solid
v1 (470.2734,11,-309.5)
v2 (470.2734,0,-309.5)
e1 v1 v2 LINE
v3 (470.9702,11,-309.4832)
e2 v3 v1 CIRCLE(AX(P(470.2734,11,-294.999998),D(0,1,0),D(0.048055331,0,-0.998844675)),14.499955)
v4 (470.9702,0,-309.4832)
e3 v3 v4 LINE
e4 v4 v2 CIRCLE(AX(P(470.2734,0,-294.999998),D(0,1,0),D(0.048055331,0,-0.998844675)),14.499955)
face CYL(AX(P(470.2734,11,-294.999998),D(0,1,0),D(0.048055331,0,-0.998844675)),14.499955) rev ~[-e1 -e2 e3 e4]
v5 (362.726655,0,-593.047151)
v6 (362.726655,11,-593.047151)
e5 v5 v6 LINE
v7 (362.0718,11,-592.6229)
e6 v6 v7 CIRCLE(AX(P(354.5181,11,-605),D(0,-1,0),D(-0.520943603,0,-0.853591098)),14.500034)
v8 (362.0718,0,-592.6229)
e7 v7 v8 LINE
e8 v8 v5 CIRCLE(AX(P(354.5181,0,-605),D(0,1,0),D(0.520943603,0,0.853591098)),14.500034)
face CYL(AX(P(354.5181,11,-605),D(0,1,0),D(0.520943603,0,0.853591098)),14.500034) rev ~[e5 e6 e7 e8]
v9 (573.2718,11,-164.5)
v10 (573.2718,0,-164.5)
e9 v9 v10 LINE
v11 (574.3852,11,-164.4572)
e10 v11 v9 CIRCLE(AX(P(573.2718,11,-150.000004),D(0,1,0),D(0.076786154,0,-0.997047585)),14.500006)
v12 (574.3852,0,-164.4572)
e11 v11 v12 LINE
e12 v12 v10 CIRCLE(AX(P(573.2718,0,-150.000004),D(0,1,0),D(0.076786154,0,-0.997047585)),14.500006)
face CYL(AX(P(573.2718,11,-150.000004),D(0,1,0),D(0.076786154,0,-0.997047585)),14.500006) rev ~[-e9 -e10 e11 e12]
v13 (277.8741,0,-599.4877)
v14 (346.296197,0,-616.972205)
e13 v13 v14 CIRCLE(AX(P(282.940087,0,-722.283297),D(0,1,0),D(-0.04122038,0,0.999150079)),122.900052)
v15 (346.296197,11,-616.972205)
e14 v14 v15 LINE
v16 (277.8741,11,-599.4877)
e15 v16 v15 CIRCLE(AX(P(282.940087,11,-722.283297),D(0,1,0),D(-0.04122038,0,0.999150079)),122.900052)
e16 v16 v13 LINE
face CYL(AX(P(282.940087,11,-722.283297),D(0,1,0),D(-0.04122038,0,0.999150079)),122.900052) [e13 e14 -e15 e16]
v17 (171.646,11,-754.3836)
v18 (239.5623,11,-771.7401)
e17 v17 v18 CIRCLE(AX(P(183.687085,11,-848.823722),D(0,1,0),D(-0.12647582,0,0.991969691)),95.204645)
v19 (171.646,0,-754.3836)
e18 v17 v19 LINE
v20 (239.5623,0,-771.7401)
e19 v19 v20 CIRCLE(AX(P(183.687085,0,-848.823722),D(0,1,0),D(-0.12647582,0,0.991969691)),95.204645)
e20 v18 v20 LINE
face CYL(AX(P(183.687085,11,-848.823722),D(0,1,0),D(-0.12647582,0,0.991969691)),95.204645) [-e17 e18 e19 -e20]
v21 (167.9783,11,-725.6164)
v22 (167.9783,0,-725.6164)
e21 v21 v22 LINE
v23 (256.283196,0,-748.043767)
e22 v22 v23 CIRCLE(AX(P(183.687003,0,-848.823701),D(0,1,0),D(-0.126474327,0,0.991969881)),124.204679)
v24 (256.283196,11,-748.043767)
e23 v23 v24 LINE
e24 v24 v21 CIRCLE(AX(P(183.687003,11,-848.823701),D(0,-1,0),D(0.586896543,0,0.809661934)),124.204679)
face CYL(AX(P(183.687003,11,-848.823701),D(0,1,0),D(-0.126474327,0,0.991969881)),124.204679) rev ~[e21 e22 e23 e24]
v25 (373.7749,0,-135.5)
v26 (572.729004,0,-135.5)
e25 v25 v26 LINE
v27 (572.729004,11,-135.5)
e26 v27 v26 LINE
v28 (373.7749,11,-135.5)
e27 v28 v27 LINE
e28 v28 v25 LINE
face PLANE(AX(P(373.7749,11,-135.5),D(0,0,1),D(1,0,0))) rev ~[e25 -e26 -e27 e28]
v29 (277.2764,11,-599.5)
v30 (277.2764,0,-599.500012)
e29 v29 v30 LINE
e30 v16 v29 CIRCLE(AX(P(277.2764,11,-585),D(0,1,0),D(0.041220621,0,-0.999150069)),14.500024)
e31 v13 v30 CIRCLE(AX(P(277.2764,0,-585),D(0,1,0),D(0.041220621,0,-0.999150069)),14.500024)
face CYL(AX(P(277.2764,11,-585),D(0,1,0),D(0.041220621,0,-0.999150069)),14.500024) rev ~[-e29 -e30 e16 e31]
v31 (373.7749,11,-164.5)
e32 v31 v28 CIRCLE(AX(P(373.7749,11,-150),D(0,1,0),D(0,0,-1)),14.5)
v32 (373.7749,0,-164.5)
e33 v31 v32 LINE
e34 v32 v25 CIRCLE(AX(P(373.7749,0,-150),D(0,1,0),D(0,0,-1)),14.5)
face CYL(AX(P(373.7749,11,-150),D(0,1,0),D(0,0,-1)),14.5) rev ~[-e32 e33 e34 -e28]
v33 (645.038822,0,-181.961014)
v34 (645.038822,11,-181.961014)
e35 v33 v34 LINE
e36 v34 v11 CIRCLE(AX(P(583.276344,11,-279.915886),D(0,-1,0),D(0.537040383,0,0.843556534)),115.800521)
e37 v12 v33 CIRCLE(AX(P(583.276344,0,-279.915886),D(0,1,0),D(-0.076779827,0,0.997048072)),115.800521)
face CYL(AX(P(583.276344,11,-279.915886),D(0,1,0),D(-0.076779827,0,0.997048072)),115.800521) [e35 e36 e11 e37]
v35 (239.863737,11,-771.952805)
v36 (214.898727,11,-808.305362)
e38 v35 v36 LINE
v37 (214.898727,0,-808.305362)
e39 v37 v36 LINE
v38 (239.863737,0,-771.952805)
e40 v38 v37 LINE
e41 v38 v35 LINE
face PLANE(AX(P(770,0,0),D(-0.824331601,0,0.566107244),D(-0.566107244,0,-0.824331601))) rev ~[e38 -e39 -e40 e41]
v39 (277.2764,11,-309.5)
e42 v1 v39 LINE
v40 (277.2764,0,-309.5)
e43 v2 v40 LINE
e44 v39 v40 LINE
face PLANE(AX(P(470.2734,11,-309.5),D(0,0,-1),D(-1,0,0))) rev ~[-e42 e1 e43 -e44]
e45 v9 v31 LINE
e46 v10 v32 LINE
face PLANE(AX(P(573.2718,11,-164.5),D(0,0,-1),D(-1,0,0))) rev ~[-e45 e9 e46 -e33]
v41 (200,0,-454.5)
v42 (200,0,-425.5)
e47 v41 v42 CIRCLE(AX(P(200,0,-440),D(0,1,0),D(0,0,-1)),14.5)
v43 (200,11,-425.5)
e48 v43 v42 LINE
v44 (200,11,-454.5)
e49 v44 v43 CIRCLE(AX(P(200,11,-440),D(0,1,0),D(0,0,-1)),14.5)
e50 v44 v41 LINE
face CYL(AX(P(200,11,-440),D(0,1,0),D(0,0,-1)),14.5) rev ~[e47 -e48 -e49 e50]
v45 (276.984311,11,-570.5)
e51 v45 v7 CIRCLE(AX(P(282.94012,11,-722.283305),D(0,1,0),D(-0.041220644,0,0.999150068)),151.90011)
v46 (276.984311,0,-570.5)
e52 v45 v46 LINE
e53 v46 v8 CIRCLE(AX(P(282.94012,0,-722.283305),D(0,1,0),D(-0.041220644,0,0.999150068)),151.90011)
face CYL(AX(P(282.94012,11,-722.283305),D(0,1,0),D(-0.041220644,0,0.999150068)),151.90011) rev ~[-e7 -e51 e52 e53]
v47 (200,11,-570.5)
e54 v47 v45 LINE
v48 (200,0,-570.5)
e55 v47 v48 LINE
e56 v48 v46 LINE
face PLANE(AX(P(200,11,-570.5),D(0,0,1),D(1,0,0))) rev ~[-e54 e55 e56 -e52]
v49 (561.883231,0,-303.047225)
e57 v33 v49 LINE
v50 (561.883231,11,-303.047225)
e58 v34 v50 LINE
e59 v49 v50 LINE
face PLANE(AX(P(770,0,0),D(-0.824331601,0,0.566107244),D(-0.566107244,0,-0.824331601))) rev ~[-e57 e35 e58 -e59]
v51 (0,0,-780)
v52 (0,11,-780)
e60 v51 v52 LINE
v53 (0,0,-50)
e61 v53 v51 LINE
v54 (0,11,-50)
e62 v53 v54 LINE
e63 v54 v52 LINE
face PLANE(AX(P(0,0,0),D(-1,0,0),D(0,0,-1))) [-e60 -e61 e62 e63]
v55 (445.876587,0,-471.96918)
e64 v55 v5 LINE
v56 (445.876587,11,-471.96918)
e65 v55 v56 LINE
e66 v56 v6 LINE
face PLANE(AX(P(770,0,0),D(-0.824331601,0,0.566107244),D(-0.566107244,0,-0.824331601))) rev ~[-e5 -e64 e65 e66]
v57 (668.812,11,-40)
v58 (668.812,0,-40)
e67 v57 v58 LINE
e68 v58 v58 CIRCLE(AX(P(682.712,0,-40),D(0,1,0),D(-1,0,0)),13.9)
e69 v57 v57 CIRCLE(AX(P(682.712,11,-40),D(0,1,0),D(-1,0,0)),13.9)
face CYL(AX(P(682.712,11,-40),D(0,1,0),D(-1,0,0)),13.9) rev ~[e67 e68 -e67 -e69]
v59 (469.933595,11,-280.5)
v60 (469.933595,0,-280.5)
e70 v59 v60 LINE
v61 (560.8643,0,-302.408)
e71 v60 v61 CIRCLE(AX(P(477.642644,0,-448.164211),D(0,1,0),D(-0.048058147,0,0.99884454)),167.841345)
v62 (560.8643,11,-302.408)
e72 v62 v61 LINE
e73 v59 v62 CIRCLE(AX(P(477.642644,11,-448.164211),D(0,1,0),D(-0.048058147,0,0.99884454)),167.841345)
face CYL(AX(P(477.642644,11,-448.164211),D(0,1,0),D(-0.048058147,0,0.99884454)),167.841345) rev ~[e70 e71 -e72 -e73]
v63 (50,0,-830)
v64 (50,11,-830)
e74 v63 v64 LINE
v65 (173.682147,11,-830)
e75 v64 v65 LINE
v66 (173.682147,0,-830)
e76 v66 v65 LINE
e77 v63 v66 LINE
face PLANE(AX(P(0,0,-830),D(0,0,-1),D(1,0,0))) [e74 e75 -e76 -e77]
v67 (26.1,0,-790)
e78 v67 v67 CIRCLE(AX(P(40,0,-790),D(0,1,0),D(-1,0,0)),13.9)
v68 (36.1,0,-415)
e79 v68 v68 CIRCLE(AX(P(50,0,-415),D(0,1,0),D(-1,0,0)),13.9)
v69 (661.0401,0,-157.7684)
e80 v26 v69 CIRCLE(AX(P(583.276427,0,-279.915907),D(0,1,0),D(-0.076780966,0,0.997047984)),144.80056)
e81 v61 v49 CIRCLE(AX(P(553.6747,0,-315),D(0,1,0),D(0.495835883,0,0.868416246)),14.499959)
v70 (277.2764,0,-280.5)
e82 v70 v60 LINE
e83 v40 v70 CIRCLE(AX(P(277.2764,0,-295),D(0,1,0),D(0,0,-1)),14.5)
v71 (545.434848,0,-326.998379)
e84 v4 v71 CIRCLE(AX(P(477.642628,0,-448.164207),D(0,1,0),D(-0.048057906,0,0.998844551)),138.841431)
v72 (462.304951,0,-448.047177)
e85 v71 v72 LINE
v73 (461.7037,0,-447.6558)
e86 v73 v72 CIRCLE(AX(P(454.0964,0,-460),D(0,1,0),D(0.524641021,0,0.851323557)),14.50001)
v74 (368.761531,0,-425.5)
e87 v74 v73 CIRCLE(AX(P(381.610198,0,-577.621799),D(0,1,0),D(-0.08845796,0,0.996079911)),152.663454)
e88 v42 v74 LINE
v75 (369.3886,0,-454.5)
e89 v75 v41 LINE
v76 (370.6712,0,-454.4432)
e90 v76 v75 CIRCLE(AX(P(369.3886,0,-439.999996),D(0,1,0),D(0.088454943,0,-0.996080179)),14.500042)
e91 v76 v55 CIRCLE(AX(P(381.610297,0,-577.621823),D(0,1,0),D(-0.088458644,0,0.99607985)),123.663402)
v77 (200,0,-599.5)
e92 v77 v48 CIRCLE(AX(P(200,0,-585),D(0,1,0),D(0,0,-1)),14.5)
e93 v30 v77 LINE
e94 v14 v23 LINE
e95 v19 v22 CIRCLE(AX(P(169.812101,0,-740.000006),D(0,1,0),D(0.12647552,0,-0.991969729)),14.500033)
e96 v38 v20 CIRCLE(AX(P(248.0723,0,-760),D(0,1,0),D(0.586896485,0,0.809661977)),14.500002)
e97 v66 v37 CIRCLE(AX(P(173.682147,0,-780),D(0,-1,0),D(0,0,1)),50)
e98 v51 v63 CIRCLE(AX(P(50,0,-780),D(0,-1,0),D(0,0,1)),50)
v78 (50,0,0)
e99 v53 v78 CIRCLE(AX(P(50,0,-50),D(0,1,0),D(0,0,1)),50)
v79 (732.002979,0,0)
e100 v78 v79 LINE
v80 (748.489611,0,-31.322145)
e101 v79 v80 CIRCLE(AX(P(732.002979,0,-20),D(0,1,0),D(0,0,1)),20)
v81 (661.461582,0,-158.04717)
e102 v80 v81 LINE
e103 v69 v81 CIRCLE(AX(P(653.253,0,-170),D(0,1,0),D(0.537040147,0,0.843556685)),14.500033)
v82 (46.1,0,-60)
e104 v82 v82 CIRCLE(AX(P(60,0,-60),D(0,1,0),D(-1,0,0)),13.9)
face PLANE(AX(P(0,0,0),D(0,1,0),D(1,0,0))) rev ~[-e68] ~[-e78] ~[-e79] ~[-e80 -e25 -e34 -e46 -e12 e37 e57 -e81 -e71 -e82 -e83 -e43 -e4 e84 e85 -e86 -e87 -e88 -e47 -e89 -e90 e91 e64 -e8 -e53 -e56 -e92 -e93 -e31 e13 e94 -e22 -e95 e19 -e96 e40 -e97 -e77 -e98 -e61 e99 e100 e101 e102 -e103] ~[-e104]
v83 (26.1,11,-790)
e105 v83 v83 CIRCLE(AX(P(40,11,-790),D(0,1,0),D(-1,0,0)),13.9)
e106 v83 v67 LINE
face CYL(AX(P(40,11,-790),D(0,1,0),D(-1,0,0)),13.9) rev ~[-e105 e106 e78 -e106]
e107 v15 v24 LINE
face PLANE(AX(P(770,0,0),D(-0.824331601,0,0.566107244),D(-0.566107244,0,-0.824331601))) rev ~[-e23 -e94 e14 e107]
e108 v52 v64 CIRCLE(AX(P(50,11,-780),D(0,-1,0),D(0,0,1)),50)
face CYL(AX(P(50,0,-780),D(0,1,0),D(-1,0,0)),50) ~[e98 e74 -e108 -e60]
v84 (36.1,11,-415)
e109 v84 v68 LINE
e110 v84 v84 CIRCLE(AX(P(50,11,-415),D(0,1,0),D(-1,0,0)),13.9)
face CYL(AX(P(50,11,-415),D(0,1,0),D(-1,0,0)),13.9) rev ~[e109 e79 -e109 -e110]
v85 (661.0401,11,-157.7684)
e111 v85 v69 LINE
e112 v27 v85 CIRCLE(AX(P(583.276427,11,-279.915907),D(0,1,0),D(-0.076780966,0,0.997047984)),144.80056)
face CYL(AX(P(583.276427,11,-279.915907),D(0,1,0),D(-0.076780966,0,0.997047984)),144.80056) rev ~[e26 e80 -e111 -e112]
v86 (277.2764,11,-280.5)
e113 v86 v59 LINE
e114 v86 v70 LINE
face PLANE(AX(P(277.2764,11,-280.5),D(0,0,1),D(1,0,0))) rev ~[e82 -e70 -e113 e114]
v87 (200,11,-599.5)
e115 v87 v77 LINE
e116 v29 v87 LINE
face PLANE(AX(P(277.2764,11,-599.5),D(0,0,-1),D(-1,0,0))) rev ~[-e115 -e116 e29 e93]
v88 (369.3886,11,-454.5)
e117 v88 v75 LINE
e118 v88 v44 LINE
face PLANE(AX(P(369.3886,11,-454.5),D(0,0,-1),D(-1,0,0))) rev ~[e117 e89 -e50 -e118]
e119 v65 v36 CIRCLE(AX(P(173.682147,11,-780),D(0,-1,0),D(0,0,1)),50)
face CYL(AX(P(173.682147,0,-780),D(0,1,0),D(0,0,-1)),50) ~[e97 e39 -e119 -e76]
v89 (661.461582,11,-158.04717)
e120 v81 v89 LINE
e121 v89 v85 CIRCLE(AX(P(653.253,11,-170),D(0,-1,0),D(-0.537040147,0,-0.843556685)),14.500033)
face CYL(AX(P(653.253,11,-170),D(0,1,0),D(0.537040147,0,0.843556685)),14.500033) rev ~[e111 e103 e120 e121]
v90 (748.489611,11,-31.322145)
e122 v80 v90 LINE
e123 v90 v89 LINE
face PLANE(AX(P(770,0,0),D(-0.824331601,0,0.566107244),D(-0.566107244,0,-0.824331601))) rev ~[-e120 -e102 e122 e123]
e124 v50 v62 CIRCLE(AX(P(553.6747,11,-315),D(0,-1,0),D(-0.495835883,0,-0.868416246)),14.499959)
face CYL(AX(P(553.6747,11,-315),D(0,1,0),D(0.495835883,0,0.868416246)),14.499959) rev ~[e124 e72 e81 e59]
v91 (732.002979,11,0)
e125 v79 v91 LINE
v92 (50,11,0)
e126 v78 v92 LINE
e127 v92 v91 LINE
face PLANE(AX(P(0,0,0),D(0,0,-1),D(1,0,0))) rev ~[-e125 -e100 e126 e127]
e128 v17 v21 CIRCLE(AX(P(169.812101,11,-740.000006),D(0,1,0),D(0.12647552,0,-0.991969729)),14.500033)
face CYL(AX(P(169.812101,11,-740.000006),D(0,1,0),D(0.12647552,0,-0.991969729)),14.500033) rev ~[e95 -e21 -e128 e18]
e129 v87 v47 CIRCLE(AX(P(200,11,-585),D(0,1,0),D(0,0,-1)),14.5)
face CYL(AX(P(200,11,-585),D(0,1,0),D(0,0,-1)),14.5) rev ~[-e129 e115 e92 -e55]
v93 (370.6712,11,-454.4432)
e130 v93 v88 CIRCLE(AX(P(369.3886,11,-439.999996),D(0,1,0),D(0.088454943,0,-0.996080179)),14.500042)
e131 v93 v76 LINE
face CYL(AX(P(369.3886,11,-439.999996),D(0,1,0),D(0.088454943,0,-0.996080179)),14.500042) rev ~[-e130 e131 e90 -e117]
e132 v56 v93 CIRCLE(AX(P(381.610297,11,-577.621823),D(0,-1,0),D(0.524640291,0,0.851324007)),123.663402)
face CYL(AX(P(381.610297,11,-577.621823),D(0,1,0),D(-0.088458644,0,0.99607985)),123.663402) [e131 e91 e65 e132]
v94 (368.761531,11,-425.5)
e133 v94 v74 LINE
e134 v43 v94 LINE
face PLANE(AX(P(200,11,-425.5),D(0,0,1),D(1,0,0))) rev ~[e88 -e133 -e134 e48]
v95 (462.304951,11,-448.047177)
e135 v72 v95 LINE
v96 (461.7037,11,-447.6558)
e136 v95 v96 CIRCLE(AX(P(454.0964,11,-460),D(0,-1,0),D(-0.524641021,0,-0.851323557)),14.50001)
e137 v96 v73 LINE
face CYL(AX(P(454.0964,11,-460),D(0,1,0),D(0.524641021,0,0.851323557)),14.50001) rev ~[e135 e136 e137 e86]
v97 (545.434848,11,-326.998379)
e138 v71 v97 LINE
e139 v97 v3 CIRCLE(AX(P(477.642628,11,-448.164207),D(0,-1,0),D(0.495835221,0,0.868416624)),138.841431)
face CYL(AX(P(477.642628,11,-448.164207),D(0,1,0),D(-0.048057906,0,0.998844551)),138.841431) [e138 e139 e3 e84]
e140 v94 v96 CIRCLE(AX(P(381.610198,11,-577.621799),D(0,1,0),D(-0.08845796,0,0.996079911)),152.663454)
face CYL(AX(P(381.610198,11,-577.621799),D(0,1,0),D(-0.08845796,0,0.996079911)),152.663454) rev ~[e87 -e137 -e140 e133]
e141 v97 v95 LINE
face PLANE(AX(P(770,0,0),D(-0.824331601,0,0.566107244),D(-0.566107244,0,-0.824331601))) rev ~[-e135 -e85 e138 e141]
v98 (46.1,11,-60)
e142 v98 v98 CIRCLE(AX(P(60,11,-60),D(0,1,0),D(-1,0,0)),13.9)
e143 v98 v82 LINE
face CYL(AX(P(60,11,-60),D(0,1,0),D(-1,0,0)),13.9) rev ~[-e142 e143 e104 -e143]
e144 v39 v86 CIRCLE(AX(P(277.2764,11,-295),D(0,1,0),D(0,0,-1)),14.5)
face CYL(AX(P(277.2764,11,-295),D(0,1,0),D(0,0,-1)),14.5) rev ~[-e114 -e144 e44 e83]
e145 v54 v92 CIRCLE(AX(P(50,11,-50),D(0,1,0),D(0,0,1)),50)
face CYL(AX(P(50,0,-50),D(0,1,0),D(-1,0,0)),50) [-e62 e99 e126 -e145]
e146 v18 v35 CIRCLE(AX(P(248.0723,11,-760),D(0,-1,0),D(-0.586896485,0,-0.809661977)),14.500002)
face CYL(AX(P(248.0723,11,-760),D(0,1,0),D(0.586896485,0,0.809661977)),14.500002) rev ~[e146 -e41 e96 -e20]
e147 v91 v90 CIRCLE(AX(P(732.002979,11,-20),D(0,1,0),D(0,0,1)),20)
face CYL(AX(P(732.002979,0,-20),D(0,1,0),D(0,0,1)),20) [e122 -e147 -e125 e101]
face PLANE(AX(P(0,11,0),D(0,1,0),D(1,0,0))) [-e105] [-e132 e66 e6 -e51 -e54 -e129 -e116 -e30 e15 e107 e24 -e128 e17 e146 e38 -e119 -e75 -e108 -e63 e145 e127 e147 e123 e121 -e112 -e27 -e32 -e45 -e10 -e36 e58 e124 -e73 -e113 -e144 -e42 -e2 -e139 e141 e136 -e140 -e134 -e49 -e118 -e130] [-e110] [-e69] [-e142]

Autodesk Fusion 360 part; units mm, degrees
sketch "Sketch1" plane through (0, 0, 0) normal (0, 1, 0) x (1, 0, 0)
  line L0 (0, 0) -> (0, 830)
  line L1 (0, 830) -> (200, 830)
  line L2 (0, 0) -> (770, 0)
  line L3 (770, 0) -> (200, 830)
  dimension "d1" = 830
  dimension "d2" = 770
extrude "Extrude1" add sketch "Sketch1" along normal blind 11
sketch "Sketch2" plane through (0, 11, 0) normal (0, 1, 0) x (-1, 0, 0)
  line L0 (0, 0) -> (-770, 0)
  line L1 (-770, 0) -> (-200, -830)
  line L2 (-200, -830) -> (0, -830)
  line L3 (0, -830) -> (0, 0)
  arc A0 (-167.9783, -725.6164) -> (-256.5823, -748.2599) centre (-183.687, -848.8237) ccw
  arc A1 (-171.646, -754.3836) -> (-167.9783, -725.6164) centre (-169.8121, -740) ccw
  arc A2 (-171.646, -754.3836) -> (-239.5623, -771.7401) centre (-183.687, -848.8237) ccw
  arc A3 (-256.5823, -748.2599) -> (-239.5623, -771.7401) centre (-248.0723, -760) ccw
  arc A4 (-169.8121, -740) -> (-248.0723, -760) centre (-183.687, -848.8237) ccw construction
  arc A5 (-277.8741, -599.4877) -> (-346.9644, -617.3771) centre (-282.9401, -722.2833) ccw
  arc A6 (-277.8741, -599.4877) -> (-276.6787, -570.5123) centre (-277.2764, -585) ccw
  arc A7 (-276.6787, -570.5123) -> (-362.0718, -592.6229) centre (-282.9401, -722.2833) ccw
  arc A8 (-362.0718, -592.6229) -> (-346.9644, -617.3771) centre (-354.5181, -605) ccw
  arc A9 (-277.2764, -585) -> (-354.5181, -605) centre (-282.9401, -722.2833) ccw construction
  arc A10 (-370.6712, -454.4432) -> (-446.4891, -472.3442) centre (-381.6102, -577.6218) ccw
  arc A11 (-370.6712, -454.4432) -> (-368.1059, -425.5568) centre (-369.3886, -440) ccw
  arc A12 (-368.1059, -425.5568) -> (-461.7037, -447.6558) centre (-381.6102, -577.6218) ccw
  arc A13 (-461.7037, -447.6558) -> (-446.4891, -472.3442) centre (-454.0964, -460) ccw
  arc A14 (-369.3886, -440) -> (-454.0964, -460) centre (-381.6102, -577.6218) ccw construction
  arc A15 (-470.9702, -309.4832) -> (-546.4851, -327.592) centre (-477.6426, -448.1642) ccw
  arc A16 (-470.9702, -309.4832) -> (-469.5765, -280.5168) centre (-470.2734, -295) ccw
  arc A17 (-469.5765, -280.5168) -> (-560.8643, -302.408) centre (-477.6426, -448.1642) ccw
  arc A18 (-560.8643, -302.408) -> (-546.4851, -327.592) centre (-553.6747, -315) ccw
  arc A19 (-470.2734, -295) -> (-553.6747, -315) centre (-477.6426, -448.1642) ccw construction
  arc A20 (-574.3852, -164.4572) -> (-645.4659, -182.2316) centre (-583.2764, -279.9159) ccw
  arc A21 (-574.3852, -164.4572) -> (-572.1585, -135.5428) centre (-573.2718, -150) ccw
  arc A22 (-572.1585, -135.5428) -> (-661.0401, -157.7684) centre (-583.2764, -279.9159) ccw
  arc A23 (-661.0401, -157.7684) -> (-645.4659, -182.2316) centre (-653.253, -170) ccw
  arc A24 (-573.2718, -150) -> (-653.253, -170) centre (-583.2764, -279.9159) ccw construction
  line L4 (-573.2718, -164.5) -> (-373.7749, -164.5)
  arc A25 (-373.7749, -164.5) -> (-373.7749, -135.5) centre (-373.7749, -150) ccw
  line L5 (-373.7749, -135.5) -> (-573.2718, -135.5)
  arc A26 (-573.2718, -135.5) -> (-573.2718, -164.5) centre (-573.2718, -150) ccw
  line L6 (-573.2718, -150) -> (-373.7749, -150) construction
  line L7 (-470.2734, -309.5) -> (-277.2764, -309.5)
  arc A27 (-277.2764, -309.5) -> (-277.2764, -280.5) centre (-277.2764, -295) ccw
  line L8 (-277.2764, -280.5) -> (-470.2734, -280.5)
  arc A28 (-470.2734, -280.5) -> (-470.2734, -309.5) centre (-470.2734, -295) ccw
  line L9 (-470.2734, -295) -> (-277.2764, -295) construction
  line L10 (-369.3886, -454.5) -> (-200, -454.5)
  arc A29 (-200, -454.5) -> (-200, -425.5) centre (-200, -440) ccw
  line L11 (-200, -425.5) -> (-369.3886, -425.5)
  arc A30 (-369.3886, -425.5) -> (-369.3886, -454.5) centre (-369.3886, -440) ccw
  line L12 (-369.3886, -440) -> (-200, -440) construction
  line L13 (-277.2764, -599.5) -> (-200, -599.5)
  arc A31 (-200, -599.5) -> (-200, -570.5) centre (-200, -585) ccw
  line L14 (-200, -570.5) -> (-277.2764, -570.5)
  arc A32 (-277.2764, -570.5) -> (-277.2764, -599.5) centre (-277.2764, -585) ccw
  line L15 (-277.2764, -585) -> (-200, -585) construction
  dimension "d13" = 90
  dimension "d14" = 245
  dimension "d15" = 390
  dimension "d16" = 390
  dimension "d17" = 535
  dimension "d18" = 535
  dimension "d19" = 680
  dimension "d20" = 680
  dimension "d21" = 29
  dimension "d22" = 29
  dimension "d23" = 29
  dimension "d24" = 29
  dimension "d25" = 29
  dimension "d26" = 20
  dimension "d27" = 20
  dimension "d28" = 20
  dimension "d29" = 20
  dimension "d30" = 20
  dimension "d31" = 29
  dimension "d32" = 29
  dimension "d33" = 29
  dimension "d40" = 29
extrude "Extrude2" cut sketch "Sketch2" against normal blind 12 contours L1 A20 A22 A23 L5 A26 | L1 A20 A23 | L1 A0 A3 | L1 A0 A1 A2 A3 | L1 A15 A17 A18 L8 A28 | L1 A15 A18 | A21 A22 L5 A26 | A21 A22 L4 A25 L5 | L1 A5 A8 | L1 A5 A7 A8 L14 A32 | L1 A10 A12 A13 L11 A30 | L1 A10 A13 | A16 A17 L8 A28 | A16 A17 L7 A27 L8 | A6 A7 L14 A32 | A11 A12 L11 A30 | A11 A12 L10 A29 L11
fillet "Fillet1" radius 50 1 edges at (0, 5.5, -830)
fillet "Fillet2" radius 50 1 edges at (200, 5.5, -830)
fillet "Fillet3" radius 50 1 edges at (0, 5.5, 0)
fillet "Fillet4" radius 20 1 edges at (770, 5.5, 0)
extrude "Extrude3" cut sketch "Sketch2" against normal blind 12 contours A6 A7 L13 A31 L14
sketch "Sketch3" plane through (0, 11, 0) normal (0, 1, 0) x (-1, 0, 0)
  line L0 (-276.9849, -570.5) -> (-200, -570.5)
  arc A0 (-200, -599.5) -> (-200, -570.5) centre (-200, -585) ccw
  line L1 (-200, -599.5) -> (-277.2764, -599.5)
  arc A1 (-277.8741, -599.4877) -> (-277.2764, -599.5) centre (-277.2764, -585) ccw
  arc A2 (-277.8741, -599.4877) -> (-346.2962, -616.9722) centre (-282.9401, -722.2833) ccw
  line L2 (-346.2962, -616.9722) -> (-256.2832, -748.0438)
  arc A3 (-167.9783, -725.6164) -> (-256.2832, -748.0438) centre (-183.687, -848.8237) ccw
  arc A4 (-171.646, -754.3836) -> (-167.9783, -725.6164) centre (-169.8121, -740) ccw
  arc A5 (-171.646, -754.3836) -> (-239.5623, -771.7401) centre (-183.687, -848.8237) ccw
  arc A6 (-239.8637, -771.9528) -> (-239.5623, -771.7401) centre (-248.0723, -760) ccw
  line L3 (-239.8637, -771.9528) -> (-214.8987, -808.3054)
  arc A7 (-214.8987, -808.3054) -> (-173.6821, -830) centre (-173.6821, -780) ccw
  line L4 (-173.6821, -830) -> (-50, -830)
  arc A8 (-50, -830) -> (0, -780) centre (-50, -780) ccw
  line L5 (0, -780) -> (0, -50)
  arc A9 (0, -50) -> (-50, 0) centre (-50, -50) ccw
  line L6 (-50, 0) -> (-732.003, 0)
  arc A10 (-732.003, 0) -> (-748.4896, -31.3221) centre (-732.003, -20) ccw
  line L7 (-748.4896, -31.3221) -> (-661.4616, -158.0472)
  arc A11 (-661.0401, -157.7684) -> (-661.4616, -158.0472) centre (-653.253, -170) ccw
  arc A12 (-572.7291, -135.5) -> (-661.0401, -157.7684) centre (-583.2764, -279.9159) ccw
  line L8 (-572.7291, -135.5) -> (-373.7749, -135.5)
  arc A13 (-373.7749, -164.5) -> (-373.7749, -135.5) centre (-373.7749, -150) ccw
  line L9 (-373.7749, -164.5) -> (-573.2718, -164.5)
  arc A14 (-574.3852, -164.4572) -> (-573.2718, -164.5) centre (-573.2718, -150) ccw
  arc A15 (-574.3852, -164.4572) -> (-645.0388, -181.961) centre (-583.2764, -279.9159) ccw
  line L10 (-645.0388, -181.961) -> (-561.8833, -303.0472)
  arc A16 (-560.8643, -302.408) -> (-561.8833, -303.0472) centre (-553.6747, -315) ccw
  arc A17 (-469.9326, -280.5) -> (-560.8643, -302.408) centre (-477.6426, -448.1642) ccw
  line L11 (-469.9326, -280.5) -> (-277.2764, -280.5)
  arc A18 (-277.2764, -309.5) -> (-277.2764, -280.5) centre (-277.2764, -295) ccw
  line L12 (-277.2764, -309.5) -> (-470.2734, -309.5)
  arc A19 (-470.9702, -309.4832) -> (-470.2734, -309.5) centre (-470.2734, -295) ccw
  arc A20 (-470.9702, -309.4832) -> (-545.4348, -326.9984) centre (-477.6426, -448.1642) ccw
  line L13 (-545.4348, -326.9984) -> (-462.3049, -448.0472)
  arc A21 (-461.7037, -447.6558) -> (-462.3049, -448.0472) centre (-454.0964, -460) ccw
  arc A22 (-368.762, -425.5) -> (-461.7037, -447.6558) centre (-381.6102, -577.6218) ccw
  line L14 (-368.762, -425.5) -> (-200, -425.5)
  arc A23 (-200, -454.5) -> (-200, -425.5) centre (-200, -440) ccw
  line L15 (-200, -454.5) -> (-369.3886, -454.5)
  arc A24 (-370.6712, -454.4432) -> (-369.3886, -454.5) centre (-369.3886, -440) ccw
  arc A25 (-370.6712, -454.4432) -> (-445.8766, -471.9692) centre (-381.6102, -577.6218) ccw
  line L16 (-445.8766, -471.9692) -> (-362.7266, -593.0472)
  arc A26 (-362.0718, -592.6229) -> (-362.7266, -593.0472) centre (-354.5181, -605) ccw
  arc A27 (-276.9849, -570.5) -> (-362.0718, -592.6229) centre (-282.9401, -722.2833) ccw
  circle A28 centre (-40, -790) radius 13.9
  circle A29 centre (-60, -60) radius 13.9
  circle A30 centre (-682.712, -40) radius 13.9
  circle A31 centre (-50, -415) radius 13.9
  dimension "d43" = 27.8
  dimension "d44" = 40
  dimension "d45" = 40
  dimension "d46" = 27.8
  dimension "d47" = 27.8
  dimension "d48" = 60
  dimension "d49" = 60
  dimension "d50" = 40
  dimension "d51" = 27.8
  dimension "d52" = 50
  dimension "d53" = 415
extrude "Extrude4" cut sketch "Sketch3" against normal blind 12 contours A28 | A29 | A30 | A31
